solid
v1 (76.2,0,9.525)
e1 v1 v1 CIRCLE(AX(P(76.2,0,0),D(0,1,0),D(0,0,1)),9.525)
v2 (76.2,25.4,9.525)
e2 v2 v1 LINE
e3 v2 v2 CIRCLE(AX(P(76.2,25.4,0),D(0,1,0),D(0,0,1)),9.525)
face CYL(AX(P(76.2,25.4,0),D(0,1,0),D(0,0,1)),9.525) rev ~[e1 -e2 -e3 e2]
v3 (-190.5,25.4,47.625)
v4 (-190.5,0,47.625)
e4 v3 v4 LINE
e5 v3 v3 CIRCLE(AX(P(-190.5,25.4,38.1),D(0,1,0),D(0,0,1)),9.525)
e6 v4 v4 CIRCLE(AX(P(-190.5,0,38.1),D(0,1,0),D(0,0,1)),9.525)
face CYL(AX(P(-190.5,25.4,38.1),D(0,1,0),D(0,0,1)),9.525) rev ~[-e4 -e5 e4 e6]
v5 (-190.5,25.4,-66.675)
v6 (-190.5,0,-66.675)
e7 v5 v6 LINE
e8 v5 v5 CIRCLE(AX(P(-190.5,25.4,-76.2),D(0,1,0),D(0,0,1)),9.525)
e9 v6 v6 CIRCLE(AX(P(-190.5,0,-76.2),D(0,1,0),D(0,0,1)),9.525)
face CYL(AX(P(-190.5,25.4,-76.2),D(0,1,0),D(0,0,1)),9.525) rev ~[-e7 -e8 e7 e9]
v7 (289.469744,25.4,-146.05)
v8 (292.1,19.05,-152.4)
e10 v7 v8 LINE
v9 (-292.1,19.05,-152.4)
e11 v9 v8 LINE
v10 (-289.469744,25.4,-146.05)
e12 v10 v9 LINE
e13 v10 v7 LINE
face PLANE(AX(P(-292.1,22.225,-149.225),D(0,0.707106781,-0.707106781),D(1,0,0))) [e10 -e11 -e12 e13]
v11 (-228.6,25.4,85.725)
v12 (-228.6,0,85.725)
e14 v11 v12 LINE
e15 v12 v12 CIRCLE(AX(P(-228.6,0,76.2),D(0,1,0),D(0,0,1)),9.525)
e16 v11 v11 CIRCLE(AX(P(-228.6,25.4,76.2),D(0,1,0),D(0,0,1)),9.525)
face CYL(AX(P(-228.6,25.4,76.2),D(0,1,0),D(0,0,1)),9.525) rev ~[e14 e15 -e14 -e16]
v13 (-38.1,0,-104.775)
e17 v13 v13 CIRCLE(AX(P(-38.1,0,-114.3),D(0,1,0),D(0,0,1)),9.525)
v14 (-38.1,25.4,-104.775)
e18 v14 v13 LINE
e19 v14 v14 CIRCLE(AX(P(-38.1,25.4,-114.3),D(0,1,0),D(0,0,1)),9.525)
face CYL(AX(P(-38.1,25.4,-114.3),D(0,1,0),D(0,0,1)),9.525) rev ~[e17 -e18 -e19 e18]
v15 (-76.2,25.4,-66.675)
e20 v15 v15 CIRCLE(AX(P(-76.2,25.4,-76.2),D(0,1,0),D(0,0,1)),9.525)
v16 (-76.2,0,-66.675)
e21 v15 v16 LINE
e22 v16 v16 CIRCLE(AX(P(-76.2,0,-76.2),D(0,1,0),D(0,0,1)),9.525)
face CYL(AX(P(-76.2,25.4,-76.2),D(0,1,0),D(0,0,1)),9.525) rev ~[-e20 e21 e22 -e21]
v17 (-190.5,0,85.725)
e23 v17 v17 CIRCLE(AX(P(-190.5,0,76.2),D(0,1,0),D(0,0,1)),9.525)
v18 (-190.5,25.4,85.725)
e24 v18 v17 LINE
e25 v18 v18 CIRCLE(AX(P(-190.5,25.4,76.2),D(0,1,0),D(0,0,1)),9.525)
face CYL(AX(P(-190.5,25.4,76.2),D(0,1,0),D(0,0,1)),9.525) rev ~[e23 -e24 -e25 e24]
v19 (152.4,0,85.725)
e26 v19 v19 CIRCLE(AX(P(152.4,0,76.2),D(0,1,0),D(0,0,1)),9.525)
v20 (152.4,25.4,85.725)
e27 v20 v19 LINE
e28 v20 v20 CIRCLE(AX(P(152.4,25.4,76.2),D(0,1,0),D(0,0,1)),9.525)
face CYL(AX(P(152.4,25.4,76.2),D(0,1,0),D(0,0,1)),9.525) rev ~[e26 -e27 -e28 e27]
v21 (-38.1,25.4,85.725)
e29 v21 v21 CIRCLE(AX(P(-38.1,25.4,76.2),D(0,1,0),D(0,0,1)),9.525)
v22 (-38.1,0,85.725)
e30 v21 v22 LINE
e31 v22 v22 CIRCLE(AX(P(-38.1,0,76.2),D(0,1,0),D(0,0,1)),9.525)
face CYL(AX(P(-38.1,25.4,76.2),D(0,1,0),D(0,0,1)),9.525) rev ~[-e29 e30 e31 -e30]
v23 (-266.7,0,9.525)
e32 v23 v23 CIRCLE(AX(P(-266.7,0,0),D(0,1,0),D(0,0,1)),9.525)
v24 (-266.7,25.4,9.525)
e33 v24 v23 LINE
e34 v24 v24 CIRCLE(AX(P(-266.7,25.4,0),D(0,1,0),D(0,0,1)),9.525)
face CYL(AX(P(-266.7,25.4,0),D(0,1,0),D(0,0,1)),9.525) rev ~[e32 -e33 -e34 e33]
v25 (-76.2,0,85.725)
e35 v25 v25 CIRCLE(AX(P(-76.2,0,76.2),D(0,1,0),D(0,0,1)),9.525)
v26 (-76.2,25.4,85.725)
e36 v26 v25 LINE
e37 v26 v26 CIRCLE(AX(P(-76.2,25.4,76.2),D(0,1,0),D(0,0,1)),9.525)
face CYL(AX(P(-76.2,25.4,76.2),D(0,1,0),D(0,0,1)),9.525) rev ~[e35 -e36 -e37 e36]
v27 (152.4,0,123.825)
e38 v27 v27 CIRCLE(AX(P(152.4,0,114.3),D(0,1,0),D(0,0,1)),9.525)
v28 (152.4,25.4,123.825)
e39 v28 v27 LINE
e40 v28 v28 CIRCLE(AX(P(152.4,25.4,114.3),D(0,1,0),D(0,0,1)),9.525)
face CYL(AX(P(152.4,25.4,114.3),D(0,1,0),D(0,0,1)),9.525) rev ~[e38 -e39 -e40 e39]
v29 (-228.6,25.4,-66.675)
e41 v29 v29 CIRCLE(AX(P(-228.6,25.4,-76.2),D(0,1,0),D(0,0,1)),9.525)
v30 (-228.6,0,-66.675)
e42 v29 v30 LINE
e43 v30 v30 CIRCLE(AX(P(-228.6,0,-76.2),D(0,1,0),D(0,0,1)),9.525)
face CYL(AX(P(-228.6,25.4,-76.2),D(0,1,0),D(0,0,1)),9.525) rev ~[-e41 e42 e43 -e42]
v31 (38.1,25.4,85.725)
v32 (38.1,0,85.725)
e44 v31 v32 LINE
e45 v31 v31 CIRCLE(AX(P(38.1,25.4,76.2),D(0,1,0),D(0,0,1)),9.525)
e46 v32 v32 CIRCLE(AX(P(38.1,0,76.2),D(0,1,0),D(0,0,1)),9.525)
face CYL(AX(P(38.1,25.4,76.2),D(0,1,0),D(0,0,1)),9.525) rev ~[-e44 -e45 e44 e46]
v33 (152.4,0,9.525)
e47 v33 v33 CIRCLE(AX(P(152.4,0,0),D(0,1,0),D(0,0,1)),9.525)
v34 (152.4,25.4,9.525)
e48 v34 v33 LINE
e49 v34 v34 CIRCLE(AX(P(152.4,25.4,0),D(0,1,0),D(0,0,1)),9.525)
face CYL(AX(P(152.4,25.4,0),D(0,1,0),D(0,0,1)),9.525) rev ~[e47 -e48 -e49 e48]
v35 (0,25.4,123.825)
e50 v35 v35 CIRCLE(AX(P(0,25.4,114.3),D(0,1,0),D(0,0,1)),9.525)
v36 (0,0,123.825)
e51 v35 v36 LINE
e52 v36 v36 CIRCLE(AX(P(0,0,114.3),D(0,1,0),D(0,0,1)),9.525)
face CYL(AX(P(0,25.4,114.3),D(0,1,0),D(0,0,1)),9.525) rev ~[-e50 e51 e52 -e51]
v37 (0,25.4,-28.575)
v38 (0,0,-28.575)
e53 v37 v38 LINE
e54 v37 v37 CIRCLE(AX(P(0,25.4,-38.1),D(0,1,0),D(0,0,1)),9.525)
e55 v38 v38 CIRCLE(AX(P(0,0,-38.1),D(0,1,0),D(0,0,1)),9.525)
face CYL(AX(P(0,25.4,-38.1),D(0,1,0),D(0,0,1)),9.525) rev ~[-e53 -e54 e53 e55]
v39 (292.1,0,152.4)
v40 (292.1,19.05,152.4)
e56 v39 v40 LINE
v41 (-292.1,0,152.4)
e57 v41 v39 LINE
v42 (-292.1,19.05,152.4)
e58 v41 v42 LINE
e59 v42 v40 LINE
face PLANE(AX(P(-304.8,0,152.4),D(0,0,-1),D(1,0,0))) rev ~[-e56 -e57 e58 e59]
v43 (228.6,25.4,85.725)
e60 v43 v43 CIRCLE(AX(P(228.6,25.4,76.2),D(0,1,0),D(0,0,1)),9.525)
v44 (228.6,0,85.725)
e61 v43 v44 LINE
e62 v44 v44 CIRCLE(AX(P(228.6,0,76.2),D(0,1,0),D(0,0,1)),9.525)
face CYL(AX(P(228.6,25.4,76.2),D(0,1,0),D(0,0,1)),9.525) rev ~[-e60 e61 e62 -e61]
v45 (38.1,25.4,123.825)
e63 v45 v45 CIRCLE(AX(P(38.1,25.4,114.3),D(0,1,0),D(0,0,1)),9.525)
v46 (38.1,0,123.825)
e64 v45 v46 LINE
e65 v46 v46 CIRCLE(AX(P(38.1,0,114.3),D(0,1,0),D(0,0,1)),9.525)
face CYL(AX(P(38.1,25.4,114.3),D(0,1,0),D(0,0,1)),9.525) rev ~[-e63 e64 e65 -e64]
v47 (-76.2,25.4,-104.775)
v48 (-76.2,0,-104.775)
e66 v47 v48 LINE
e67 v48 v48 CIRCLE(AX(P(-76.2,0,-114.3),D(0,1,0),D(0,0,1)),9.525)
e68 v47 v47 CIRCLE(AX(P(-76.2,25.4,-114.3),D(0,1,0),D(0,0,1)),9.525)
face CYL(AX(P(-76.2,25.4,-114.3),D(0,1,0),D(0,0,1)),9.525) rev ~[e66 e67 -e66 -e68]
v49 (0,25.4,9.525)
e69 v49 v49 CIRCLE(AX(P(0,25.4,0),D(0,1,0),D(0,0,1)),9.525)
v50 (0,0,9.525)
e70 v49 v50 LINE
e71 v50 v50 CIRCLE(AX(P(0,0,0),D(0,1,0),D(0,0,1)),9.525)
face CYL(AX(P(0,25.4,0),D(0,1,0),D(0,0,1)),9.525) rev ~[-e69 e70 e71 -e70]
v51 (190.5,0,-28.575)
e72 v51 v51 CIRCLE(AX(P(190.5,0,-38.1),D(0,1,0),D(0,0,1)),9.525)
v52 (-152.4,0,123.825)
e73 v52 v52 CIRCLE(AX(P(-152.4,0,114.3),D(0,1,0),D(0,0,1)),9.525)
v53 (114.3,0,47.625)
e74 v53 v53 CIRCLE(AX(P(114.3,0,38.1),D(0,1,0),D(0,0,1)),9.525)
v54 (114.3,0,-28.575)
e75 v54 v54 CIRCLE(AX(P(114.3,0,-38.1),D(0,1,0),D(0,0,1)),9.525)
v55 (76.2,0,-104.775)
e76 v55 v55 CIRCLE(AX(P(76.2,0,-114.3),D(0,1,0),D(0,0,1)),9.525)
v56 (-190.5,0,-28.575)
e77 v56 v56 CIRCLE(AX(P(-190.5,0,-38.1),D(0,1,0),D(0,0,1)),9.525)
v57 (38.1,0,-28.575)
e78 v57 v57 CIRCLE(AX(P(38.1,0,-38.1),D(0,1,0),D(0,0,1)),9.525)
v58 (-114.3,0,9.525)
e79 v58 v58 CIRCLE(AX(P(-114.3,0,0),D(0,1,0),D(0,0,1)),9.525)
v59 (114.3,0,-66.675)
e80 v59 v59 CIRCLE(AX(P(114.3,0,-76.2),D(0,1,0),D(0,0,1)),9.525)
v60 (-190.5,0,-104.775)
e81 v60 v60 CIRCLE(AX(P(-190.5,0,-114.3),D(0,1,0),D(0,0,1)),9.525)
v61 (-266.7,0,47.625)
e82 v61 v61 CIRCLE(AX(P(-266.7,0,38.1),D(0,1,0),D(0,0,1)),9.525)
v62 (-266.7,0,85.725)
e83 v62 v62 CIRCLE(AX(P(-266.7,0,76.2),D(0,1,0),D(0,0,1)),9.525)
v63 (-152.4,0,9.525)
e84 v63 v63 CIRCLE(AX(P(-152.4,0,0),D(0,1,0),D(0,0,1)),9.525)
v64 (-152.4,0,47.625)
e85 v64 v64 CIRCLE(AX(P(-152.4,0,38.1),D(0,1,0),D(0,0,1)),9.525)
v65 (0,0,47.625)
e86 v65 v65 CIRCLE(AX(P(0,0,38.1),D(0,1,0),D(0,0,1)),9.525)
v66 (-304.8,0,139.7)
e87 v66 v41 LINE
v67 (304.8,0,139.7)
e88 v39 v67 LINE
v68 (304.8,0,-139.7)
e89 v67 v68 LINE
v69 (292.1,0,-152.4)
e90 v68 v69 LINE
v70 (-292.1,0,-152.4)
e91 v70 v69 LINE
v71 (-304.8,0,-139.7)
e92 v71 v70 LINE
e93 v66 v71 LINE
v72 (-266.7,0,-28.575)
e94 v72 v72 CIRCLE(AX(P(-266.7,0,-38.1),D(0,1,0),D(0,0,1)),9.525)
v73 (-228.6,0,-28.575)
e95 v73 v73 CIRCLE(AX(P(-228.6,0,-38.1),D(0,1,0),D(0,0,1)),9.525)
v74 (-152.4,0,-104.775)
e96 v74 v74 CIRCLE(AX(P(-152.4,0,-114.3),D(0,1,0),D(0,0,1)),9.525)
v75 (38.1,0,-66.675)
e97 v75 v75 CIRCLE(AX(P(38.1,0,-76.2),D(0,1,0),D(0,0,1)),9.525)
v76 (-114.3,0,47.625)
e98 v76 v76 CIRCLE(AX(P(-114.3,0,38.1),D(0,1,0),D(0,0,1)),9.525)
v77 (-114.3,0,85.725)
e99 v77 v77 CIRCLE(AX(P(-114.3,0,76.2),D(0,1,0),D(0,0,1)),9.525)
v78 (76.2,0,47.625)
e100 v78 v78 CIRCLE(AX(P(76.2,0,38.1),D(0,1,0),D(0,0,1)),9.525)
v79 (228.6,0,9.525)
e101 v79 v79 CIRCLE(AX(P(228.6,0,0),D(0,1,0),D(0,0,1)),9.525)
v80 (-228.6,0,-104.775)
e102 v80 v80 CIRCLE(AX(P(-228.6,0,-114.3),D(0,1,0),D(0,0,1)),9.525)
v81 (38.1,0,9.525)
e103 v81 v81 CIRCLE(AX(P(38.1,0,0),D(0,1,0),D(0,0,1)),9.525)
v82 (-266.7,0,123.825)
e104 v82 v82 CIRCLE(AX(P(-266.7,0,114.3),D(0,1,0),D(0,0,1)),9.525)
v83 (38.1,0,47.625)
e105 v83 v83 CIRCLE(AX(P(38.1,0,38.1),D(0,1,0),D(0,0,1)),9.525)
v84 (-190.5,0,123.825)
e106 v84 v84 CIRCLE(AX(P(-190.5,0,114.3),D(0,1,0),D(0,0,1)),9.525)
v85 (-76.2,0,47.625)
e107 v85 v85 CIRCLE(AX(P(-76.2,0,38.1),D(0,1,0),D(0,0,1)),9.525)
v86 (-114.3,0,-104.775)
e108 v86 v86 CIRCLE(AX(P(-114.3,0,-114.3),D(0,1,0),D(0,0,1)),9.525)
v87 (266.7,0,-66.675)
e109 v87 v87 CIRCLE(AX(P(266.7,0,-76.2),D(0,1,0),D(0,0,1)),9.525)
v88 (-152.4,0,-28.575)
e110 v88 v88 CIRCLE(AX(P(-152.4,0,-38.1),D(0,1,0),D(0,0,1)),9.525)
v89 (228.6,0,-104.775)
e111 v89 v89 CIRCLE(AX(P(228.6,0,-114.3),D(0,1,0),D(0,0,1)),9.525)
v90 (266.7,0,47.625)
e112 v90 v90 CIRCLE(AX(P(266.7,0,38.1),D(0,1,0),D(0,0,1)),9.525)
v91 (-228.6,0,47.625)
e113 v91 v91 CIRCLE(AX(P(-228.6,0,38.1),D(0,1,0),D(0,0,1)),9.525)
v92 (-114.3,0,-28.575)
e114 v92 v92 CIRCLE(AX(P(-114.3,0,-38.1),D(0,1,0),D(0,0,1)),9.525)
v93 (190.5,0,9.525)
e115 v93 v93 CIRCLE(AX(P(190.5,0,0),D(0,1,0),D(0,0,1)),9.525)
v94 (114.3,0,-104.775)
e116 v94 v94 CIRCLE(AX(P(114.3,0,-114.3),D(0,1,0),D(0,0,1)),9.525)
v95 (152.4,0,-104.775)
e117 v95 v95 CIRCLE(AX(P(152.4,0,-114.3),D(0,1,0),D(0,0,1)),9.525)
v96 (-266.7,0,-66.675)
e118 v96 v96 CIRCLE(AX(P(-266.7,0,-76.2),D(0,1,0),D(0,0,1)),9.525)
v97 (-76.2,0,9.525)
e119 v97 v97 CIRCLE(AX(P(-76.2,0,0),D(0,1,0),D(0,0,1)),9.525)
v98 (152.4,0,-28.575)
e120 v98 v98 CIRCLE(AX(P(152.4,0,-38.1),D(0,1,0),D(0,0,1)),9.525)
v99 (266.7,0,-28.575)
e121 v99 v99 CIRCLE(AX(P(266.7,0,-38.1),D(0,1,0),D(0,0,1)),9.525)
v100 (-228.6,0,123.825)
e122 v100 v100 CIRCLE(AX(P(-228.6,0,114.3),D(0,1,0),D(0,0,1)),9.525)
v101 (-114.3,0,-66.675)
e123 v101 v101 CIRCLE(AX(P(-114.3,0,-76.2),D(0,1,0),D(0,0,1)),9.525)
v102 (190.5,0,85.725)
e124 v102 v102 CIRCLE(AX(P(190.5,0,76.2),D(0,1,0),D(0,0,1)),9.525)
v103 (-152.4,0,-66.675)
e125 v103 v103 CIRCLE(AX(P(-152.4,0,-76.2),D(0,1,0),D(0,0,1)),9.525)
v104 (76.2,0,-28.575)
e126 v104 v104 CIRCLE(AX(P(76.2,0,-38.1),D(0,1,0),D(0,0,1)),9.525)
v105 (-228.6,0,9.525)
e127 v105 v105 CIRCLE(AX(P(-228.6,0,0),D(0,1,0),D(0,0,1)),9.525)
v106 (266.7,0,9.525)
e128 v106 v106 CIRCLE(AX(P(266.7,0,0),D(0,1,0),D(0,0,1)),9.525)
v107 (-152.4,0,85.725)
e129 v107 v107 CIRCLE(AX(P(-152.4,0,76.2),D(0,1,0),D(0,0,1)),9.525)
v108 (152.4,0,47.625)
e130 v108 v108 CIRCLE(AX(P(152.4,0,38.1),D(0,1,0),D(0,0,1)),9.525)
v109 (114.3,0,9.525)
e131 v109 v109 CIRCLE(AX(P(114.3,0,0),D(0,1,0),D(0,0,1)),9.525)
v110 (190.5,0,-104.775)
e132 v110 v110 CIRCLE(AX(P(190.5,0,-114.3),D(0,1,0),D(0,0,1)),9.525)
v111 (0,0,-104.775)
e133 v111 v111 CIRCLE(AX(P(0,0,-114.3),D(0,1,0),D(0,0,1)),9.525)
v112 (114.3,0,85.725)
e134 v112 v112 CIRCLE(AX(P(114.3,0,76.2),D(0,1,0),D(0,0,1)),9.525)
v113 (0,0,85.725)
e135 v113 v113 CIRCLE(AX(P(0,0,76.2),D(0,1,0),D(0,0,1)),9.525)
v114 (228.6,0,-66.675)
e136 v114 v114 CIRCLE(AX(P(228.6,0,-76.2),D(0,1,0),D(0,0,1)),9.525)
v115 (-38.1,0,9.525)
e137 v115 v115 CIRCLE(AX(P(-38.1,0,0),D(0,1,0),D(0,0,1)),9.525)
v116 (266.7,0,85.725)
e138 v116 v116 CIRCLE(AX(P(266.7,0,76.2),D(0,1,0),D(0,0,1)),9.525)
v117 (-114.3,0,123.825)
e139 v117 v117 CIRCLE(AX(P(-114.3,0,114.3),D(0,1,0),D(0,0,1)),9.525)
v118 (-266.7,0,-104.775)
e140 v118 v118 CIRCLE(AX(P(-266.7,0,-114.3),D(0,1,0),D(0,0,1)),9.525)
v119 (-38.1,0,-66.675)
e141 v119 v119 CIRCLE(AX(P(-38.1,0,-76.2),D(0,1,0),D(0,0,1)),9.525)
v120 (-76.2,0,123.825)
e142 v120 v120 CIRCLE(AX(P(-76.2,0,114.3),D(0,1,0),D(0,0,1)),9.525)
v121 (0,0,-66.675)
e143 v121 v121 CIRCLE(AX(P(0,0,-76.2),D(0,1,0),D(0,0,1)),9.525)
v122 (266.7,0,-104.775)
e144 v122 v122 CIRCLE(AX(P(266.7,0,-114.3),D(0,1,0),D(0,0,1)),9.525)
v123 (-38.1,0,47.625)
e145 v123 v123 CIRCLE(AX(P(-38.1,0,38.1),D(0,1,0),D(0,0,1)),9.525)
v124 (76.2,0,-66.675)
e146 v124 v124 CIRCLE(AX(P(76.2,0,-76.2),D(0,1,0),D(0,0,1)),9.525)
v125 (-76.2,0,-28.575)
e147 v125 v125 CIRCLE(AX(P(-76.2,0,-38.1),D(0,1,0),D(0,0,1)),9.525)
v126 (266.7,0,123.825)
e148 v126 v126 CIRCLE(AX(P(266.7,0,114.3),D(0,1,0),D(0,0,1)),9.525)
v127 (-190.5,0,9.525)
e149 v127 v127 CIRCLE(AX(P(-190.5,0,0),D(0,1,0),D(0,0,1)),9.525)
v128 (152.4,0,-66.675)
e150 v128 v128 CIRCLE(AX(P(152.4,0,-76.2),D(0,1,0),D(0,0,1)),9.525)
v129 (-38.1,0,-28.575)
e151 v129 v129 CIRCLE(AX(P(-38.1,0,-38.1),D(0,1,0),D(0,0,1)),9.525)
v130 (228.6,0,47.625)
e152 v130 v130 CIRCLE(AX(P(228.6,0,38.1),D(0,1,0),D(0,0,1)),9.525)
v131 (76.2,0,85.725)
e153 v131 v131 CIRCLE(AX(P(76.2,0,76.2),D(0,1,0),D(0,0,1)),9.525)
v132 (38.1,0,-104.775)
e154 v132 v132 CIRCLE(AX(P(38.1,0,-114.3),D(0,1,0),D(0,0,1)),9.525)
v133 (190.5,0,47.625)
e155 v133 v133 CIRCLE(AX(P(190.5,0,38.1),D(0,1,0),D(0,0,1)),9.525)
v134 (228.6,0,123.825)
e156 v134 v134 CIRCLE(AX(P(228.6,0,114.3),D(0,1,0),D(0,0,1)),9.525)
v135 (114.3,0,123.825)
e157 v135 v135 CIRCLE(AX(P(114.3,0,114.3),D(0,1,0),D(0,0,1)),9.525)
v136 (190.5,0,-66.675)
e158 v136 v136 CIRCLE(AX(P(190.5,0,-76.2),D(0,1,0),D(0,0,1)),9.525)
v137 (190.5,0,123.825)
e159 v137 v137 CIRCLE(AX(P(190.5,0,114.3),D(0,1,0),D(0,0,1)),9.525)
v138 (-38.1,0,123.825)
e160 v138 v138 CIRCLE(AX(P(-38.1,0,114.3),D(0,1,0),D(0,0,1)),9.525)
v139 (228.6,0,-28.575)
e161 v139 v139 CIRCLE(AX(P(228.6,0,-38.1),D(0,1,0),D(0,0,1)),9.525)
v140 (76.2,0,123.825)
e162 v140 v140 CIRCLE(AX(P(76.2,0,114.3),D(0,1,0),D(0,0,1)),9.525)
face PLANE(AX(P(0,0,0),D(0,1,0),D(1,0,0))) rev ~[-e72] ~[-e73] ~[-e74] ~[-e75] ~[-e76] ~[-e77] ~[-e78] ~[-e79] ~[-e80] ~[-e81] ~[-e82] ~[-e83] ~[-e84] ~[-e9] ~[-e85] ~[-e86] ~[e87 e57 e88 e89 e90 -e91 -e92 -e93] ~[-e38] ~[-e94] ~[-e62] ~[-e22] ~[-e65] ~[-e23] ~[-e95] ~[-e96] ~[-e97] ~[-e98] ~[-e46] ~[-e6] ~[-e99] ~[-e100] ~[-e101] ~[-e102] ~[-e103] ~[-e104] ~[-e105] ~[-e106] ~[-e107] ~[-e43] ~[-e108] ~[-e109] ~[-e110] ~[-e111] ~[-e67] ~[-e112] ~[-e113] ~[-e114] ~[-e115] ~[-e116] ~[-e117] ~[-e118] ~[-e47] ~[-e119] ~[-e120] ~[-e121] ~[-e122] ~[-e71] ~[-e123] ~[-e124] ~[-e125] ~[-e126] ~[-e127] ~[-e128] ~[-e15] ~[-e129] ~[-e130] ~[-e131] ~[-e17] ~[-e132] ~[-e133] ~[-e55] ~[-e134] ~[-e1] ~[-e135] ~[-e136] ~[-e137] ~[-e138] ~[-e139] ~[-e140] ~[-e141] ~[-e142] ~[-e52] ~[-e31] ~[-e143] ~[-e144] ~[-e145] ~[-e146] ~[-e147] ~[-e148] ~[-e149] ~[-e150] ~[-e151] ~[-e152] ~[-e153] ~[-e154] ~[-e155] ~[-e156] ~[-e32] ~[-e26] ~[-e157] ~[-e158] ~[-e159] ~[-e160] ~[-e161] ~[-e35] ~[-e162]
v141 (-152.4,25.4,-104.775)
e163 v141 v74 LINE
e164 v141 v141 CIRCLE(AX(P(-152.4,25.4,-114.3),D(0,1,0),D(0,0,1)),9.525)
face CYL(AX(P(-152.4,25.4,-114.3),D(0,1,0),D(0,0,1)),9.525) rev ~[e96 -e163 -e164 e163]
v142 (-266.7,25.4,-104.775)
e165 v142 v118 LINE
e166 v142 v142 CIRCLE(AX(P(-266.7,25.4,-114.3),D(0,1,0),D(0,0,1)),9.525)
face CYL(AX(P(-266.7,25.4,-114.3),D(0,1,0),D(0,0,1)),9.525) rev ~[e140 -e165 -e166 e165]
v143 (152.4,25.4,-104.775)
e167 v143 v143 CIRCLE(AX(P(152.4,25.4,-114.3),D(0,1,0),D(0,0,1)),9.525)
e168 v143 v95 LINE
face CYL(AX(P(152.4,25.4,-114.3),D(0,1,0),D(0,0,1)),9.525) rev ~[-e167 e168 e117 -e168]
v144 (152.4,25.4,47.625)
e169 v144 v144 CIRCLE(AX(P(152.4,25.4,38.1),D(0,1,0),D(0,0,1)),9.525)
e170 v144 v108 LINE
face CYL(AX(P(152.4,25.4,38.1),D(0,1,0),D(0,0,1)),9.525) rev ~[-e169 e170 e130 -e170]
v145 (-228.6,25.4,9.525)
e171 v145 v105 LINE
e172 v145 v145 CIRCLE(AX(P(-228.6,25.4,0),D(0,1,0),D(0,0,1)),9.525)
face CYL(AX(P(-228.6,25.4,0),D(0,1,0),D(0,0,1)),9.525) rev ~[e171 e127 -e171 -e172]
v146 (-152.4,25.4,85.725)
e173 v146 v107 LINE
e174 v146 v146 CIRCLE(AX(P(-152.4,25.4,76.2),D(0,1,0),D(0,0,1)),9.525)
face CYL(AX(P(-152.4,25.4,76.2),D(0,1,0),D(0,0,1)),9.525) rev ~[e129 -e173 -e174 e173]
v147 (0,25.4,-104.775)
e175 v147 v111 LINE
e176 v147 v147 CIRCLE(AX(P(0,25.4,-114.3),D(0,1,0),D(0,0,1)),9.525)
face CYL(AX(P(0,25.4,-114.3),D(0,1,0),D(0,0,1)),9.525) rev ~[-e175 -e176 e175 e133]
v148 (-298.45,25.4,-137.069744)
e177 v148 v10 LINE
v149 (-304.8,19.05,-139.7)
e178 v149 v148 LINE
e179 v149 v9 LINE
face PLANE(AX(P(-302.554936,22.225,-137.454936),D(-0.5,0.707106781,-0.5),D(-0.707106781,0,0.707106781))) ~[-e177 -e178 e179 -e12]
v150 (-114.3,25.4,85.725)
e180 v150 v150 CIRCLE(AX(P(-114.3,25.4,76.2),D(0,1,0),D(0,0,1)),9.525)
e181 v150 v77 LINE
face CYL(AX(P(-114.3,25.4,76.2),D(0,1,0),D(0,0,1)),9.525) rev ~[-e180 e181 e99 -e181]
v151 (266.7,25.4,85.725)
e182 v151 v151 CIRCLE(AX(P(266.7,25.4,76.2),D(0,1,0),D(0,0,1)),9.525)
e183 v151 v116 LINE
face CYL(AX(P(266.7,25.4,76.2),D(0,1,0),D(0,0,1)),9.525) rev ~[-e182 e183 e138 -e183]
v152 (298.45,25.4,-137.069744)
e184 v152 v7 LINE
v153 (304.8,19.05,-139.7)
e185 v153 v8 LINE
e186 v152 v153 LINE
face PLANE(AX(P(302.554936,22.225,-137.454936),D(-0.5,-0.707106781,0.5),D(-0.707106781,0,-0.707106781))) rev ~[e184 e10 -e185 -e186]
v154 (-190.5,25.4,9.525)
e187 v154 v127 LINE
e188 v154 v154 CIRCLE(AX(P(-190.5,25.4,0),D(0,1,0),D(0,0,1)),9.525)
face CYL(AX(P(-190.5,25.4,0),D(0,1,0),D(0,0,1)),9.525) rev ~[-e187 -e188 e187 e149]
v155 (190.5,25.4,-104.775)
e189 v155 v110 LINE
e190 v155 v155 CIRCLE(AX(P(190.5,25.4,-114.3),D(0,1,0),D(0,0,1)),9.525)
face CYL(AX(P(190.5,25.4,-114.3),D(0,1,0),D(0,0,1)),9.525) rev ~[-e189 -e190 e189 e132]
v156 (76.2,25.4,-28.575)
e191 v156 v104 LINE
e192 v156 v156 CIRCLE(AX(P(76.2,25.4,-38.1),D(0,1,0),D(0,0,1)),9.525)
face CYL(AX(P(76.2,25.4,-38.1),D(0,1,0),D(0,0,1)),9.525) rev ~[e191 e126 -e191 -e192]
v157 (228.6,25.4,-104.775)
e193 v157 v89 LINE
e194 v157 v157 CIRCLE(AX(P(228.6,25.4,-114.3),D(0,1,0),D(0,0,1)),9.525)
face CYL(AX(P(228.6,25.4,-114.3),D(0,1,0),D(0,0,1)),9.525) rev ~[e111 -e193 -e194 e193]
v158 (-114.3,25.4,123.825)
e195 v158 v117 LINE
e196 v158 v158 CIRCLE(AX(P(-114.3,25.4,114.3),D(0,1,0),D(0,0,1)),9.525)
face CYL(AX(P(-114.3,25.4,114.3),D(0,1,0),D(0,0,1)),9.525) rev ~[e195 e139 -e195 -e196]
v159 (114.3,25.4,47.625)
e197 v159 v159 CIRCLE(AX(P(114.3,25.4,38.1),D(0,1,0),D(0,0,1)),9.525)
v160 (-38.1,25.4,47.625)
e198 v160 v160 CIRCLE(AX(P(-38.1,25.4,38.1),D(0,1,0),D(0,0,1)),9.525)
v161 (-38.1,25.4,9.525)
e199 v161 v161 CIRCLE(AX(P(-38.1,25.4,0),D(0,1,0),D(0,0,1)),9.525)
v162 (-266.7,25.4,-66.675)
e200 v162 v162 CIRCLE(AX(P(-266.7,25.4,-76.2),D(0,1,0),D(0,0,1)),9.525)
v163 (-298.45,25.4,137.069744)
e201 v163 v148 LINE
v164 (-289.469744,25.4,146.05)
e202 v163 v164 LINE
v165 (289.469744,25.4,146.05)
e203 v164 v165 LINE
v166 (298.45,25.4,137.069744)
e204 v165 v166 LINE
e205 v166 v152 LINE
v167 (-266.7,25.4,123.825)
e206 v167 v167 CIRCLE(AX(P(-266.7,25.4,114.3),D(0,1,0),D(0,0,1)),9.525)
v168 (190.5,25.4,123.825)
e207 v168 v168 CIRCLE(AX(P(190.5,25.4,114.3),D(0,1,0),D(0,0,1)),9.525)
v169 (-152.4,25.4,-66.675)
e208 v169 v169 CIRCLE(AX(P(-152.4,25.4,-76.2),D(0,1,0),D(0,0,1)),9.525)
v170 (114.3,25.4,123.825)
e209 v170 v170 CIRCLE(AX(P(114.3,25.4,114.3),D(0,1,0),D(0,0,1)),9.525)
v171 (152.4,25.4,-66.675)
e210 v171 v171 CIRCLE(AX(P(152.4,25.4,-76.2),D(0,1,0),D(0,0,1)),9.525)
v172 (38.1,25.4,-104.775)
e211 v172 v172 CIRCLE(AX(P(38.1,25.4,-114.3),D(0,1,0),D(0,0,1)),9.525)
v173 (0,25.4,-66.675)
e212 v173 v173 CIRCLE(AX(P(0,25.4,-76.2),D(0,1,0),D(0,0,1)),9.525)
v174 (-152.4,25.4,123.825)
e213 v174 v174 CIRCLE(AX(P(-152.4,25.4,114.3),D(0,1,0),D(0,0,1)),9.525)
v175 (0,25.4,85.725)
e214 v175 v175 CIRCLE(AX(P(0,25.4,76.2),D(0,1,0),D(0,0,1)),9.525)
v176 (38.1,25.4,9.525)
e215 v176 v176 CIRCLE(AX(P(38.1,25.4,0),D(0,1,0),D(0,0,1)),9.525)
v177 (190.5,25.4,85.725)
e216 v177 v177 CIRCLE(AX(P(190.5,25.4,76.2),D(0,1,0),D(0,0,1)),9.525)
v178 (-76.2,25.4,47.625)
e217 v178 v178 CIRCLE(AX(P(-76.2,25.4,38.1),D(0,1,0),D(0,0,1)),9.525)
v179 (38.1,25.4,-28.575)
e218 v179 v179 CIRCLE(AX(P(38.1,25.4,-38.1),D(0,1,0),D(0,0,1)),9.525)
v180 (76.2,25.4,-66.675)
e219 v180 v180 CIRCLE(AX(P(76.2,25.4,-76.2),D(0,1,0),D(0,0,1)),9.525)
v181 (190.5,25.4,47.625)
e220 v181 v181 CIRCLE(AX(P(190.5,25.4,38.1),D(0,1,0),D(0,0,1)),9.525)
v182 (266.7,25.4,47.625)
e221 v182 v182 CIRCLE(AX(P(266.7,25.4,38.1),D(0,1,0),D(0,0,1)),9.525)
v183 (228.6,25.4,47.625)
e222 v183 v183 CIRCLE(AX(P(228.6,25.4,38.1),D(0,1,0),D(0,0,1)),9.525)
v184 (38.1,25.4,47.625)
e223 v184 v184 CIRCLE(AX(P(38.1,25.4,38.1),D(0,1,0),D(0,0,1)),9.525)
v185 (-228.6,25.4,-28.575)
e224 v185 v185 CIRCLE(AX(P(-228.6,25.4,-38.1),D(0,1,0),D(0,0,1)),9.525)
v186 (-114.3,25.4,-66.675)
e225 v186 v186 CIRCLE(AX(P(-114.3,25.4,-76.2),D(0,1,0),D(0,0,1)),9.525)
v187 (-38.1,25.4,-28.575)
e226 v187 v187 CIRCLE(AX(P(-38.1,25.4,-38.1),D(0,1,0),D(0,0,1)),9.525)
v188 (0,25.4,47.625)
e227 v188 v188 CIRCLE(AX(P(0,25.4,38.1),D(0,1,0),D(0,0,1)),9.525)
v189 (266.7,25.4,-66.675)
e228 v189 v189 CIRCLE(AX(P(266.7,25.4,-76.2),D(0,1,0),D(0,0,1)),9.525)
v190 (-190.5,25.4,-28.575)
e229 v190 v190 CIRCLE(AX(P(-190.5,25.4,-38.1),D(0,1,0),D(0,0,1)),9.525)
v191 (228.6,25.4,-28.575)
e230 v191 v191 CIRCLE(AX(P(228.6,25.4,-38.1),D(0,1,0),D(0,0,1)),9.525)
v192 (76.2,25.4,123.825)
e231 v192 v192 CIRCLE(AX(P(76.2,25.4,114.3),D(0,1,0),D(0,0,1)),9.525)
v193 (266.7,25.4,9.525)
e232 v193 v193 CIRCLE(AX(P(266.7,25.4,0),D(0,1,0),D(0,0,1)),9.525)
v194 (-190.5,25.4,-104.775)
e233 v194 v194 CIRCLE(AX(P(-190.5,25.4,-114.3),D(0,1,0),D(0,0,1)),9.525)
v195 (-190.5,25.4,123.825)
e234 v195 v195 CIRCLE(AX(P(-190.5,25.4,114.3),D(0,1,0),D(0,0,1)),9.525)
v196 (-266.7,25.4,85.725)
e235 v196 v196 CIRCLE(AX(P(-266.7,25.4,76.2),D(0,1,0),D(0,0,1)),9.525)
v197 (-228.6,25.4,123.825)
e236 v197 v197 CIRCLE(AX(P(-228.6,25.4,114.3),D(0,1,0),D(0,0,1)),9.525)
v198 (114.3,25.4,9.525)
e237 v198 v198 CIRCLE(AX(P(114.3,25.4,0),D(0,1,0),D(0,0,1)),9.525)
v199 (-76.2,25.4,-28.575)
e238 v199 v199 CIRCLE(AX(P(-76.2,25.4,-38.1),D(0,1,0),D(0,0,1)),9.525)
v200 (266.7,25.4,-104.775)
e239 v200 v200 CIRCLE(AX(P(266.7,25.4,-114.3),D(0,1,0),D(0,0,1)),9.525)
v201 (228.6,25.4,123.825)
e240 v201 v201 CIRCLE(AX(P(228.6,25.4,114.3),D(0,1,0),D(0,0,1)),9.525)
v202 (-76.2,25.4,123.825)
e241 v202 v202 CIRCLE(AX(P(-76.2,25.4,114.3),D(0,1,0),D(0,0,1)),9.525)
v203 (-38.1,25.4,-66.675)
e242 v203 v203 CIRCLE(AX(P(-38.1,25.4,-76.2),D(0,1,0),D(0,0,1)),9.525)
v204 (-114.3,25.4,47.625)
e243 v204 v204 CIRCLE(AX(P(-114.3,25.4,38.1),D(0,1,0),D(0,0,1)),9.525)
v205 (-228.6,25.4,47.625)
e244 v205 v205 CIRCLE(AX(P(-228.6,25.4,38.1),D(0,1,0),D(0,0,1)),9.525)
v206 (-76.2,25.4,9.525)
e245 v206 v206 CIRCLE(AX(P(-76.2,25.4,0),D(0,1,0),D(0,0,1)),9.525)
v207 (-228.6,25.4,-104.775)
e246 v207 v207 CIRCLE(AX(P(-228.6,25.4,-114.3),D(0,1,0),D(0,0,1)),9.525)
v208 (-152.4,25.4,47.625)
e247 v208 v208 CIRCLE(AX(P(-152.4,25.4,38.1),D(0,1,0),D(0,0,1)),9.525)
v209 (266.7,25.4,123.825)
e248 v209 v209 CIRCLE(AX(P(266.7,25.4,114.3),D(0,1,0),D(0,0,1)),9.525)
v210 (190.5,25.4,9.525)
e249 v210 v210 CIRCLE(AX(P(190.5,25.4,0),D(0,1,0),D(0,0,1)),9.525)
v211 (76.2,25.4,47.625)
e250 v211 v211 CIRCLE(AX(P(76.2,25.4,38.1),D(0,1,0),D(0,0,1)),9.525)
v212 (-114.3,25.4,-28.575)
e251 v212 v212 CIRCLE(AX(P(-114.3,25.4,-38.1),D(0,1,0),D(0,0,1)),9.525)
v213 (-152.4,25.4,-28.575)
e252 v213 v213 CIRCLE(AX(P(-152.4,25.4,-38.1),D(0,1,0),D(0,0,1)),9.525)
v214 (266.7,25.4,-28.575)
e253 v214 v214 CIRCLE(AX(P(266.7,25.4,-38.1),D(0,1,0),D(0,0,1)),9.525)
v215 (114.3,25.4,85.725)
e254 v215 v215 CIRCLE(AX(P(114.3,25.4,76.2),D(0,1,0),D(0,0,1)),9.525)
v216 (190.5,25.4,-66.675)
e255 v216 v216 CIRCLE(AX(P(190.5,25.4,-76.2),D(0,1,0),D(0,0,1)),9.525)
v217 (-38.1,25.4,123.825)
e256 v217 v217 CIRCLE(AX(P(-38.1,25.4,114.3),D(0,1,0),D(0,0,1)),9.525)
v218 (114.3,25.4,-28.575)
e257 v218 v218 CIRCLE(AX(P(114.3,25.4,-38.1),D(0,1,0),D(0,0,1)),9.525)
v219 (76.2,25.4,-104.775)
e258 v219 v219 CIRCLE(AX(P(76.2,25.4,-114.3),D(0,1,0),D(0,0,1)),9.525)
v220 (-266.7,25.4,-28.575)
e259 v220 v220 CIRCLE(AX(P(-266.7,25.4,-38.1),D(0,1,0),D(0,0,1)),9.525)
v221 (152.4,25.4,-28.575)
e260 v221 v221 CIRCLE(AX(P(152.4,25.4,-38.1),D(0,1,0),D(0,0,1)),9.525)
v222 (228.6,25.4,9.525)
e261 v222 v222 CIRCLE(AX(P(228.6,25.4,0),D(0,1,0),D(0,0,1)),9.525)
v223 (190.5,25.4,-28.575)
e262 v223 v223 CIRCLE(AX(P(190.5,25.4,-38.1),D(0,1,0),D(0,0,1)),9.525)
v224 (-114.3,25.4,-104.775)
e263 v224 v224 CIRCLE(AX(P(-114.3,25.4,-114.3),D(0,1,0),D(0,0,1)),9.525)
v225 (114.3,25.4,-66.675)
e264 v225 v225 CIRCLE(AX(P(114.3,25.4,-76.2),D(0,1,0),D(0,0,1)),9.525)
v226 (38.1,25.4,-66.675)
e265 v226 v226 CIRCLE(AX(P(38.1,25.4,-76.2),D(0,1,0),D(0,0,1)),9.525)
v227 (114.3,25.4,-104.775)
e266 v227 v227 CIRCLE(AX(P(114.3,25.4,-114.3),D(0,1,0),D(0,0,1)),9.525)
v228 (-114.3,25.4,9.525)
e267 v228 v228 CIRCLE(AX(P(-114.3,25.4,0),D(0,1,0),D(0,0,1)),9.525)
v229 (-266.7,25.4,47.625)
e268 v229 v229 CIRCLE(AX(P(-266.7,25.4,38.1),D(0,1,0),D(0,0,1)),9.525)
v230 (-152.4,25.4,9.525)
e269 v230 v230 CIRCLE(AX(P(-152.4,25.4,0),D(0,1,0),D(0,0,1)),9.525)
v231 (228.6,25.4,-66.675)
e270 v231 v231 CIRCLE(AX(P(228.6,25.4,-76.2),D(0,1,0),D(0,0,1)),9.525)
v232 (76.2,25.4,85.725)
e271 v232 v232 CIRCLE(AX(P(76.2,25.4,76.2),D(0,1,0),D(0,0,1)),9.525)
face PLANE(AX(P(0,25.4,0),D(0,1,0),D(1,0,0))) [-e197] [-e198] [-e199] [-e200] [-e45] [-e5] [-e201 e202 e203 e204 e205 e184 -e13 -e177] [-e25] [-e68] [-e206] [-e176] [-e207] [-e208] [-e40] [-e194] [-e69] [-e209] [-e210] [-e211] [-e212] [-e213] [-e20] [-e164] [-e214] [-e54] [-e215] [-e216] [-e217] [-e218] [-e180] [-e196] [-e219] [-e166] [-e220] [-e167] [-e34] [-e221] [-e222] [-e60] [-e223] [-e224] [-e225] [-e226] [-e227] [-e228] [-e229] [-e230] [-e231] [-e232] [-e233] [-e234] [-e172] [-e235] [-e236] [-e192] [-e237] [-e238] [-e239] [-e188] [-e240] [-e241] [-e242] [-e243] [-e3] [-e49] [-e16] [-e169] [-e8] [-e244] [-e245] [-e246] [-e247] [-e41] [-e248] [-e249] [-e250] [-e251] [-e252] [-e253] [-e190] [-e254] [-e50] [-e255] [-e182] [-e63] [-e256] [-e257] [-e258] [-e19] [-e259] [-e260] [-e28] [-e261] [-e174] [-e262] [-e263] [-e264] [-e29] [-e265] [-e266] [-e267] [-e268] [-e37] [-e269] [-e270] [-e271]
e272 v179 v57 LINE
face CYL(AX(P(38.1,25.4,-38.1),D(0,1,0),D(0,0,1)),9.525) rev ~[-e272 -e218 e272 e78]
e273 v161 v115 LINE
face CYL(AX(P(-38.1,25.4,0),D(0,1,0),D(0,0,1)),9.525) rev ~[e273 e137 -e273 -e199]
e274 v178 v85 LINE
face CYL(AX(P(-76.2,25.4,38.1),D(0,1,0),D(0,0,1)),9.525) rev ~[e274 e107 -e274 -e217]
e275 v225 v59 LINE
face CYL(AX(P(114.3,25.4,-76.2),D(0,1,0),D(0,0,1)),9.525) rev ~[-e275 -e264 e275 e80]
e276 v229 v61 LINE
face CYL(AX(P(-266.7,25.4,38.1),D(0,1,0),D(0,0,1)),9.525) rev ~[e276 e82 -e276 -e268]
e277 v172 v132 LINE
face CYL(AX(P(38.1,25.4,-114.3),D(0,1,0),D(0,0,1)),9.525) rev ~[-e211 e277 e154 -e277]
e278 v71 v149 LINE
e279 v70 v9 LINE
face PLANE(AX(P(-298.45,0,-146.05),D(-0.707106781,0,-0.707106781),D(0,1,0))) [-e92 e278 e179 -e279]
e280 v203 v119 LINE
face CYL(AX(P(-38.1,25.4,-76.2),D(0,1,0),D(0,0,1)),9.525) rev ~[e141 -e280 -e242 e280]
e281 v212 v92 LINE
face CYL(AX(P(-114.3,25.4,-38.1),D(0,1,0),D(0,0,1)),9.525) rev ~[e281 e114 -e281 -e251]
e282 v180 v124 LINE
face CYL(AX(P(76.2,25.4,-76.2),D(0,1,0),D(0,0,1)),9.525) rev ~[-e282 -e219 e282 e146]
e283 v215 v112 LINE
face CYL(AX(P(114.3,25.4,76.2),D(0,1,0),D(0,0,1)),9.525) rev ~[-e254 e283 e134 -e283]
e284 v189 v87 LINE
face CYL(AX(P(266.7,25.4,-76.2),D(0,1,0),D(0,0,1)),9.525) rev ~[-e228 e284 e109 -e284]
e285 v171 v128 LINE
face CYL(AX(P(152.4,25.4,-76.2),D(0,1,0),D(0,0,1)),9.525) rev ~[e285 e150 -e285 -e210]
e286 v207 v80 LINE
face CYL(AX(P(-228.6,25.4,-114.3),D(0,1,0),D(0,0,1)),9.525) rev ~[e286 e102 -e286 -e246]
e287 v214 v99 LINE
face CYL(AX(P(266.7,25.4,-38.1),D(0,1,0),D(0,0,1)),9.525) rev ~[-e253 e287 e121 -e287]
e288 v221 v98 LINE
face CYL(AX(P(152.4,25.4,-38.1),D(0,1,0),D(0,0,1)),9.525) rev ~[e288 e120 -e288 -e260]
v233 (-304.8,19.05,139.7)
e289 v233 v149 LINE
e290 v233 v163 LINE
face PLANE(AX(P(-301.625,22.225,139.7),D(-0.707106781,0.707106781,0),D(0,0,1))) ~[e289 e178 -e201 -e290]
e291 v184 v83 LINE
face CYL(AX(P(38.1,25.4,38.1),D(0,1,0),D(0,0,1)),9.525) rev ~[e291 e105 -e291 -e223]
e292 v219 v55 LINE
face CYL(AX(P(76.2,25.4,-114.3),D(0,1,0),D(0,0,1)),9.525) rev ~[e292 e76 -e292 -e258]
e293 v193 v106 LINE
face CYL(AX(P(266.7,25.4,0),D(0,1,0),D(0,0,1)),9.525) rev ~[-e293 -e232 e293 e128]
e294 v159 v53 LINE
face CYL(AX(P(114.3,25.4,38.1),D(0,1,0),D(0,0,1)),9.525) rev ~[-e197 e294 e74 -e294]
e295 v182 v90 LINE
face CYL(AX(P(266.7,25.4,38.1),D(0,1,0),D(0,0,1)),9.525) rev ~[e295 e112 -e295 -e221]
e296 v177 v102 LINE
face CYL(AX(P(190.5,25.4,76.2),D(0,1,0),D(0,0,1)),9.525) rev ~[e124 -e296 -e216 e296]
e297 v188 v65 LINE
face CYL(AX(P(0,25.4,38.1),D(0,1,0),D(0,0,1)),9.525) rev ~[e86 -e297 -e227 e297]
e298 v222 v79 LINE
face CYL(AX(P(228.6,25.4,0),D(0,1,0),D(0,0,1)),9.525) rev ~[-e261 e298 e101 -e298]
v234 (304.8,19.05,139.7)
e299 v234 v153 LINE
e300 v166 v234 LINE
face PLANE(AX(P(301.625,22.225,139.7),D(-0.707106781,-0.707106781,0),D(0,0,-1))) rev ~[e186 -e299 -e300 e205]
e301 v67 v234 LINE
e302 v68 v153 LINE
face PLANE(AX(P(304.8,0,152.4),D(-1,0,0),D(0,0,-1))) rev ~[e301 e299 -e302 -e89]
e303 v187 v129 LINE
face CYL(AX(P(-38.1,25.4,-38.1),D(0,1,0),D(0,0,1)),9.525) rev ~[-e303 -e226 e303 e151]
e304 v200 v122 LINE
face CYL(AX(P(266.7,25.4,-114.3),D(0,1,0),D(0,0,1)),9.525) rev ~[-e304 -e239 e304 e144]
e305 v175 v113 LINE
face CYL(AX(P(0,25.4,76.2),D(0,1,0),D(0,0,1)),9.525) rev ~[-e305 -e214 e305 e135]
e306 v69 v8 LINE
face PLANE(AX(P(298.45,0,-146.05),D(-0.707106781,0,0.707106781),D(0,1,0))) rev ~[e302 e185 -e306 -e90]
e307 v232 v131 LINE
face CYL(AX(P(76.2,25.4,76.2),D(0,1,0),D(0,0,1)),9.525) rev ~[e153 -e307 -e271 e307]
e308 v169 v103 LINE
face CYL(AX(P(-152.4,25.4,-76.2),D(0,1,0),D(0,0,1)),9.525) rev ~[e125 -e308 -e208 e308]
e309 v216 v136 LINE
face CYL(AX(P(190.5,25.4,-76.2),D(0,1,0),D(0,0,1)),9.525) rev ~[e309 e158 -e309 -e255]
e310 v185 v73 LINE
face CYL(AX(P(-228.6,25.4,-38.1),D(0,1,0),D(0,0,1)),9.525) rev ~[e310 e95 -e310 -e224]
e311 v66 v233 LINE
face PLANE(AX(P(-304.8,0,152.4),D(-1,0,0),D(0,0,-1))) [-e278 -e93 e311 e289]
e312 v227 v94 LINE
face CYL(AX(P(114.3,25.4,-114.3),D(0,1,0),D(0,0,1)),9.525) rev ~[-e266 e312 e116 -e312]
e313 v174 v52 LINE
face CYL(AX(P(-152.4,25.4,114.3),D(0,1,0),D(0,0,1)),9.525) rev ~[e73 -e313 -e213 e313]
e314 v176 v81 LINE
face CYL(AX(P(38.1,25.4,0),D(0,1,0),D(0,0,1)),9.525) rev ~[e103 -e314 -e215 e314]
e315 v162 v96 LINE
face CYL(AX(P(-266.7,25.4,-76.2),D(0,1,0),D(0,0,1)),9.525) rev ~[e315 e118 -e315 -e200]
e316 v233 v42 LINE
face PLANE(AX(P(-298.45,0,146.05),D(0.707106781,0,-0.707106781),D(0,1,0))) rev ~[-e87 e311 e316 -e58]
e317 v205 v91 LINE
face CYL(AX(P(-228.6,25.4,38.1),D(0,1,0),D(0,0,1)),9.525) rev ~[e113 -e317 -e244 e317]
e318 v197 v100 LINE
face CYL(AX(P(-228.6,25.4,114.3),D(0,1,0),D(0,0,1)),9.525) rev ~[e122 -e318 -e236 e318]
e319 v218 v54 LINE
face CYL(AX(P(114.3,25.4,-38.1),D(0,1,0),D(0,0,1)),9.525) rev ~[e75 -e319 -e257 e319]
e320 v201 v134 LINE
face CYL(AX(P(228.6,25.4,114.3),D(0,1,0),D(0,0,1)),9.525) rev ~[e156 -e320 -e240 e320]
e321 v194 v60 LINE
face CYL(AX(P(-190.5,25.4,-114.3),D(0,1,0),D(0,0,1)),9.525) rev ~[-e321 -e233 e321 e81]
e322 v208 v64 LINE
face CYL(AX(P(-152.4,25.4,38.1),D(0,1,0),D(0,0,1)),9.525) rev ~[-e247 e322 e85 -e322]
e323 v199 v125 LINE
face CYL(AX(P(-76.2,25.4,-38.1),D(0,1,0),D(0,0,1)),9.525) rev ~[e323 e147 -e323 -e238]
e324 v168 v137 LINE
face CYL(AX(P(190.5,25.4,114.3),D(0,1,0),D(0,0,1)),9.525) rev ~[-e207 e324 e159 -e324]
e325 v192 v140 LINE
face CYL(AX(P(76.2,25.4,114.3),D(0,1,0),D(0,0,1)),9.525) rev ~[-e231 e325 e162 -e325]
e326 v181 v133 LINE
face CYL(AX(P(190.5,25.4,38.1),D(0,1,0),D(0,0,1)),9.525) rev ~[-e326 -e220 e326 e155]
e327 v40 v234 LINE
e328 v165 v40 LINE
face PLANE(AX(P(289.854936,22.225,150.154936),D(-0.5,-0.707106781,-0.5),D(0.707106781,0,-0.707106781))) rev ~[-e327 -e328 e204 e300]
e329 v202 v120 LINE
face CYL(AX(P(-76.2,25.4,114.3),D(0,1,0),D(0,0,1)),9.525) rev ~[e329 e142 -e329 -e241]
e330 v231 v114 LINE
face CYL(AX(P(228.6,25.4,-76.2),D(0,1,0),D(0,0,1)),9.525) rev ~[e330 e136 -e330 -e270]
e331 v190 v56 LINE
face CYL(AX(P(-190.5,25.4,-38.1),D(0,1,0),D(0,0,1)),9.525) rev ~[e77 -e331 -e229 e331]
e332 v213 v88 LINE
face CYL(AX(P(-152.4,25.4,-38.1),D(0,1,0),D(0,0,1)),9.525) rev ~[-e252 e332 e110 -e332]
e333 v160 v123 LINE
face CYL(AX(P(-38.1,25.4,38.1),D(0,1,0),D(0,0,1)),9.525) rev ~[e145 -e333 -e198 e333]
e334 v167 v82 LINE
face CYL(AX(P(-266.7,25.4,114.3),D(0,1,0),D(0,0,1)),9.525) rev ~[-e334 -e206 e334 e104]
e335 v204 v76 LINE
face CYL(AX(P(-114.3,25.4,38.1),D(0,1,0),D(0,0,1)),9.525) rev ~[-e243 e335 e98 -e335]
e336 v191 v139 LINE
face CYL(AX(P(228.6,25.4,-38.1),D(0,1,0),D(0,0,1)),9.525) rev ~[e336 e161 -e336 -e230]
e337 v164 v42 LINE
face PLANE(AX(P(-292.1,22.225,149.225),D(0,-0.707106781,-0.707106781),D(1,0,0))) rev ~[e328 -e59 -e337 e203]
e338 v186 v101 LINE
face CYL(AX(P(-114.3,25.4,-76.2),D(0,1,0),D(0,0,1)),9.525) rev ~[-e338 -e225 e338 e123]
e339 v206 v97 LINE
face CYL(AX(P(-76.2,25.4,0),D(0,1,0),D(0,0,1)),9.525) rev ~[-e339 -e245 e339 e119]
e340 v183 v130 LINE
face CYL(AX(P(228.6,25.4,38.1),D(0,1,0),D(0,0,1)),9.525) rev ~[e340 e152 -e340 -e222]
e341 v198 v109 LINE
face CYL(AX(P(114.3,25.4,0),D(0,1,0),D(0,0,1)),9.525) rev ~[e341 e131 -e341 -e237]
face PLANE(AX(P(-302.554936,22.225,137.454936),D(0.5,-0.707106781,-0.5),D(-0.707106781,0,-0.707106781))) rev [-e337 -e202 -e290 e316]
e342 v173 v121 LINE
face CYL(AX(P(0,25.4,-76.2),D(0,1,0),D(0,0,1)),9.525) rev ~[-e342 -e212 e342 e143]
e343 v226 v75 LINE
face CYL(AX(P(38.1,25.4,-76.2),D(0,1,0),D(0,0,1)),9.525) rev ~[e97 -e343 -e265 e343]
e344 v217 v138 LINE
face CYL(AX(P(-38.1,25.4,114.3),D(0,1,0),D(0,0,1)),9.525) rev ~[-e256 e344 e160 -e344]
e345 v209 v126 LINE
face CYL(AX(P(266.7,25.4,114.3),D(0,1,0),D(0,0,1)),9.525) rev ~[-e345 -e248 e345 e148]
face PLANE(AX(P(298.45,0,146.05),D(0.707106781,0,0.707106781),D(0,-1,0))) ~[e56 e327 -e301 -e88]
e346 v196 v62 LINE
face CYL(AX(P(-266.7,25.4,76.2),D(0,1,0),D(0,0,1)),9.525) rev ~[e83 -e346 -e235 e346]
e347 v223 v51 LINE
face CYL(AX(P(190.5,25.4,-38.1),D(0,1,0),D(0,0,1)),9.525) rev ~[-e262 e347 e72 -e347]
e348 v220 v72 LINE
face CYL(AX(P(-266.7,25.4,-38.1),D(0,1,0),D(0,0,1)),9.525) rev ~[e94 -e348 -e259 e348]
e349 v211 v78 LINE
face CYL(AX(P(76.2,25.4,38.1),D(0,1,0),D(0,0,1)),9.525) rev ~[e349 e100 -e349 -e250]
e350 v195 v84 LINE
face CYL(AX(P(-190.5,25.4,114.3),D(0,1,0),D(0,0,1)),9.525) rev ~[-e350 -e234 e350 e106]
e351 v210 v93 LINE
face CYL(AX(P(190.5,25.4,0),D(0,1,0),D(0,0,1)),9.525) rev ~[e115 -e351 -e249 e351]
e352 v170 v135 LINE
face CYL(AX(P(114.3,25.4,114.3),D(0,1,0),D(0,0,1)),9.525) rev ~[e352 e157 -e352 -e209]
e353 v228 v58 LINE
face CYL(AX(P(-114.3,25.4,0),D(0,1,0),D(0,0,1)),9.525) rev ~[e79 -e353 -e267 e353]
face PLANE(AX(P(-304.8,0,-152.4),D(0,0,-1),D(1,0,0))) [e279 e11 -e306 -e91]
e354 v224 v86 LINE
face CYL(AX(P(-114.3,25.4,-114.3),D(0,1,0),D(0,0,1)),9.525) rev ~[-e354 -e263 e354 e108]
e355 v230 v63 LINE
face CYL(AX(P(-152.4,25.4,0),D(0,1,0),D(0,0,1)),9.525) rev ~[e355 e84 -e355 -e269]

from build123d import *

# Parameters (mm, degrees)
SKETCH1_W            = 609.6
SKETCH1_H            = 304.8
BOSS_EXTRUDE1_DEPTH  = 25.4
CHAMFER1_SIZE        = 12.7
CHAMFER2_SIZE        = 6.35
SKETCH2_R            = 9.525
CUT_EXTRUDE1_DEPTH   = 342.722050796
LPATTERN1_COUNT      = 15
LPATTERN1_PITCH      = 38.1
LPATTERN1_COUNT_DIR2 = 7
LPATTERN1_PITCH_DIR2 = 38.1


with BuildPart() as part:
    # Sketch1 → Boss-Extrude1 (new body)
    with BuildSketch(Plane(origin=(0, 0, 0), x_dir=(1, 0, 0), z_dir=(0, 1, 0))):
        Rectangle(SKETCH1_W, SKETCH1_H)
    extrude(amount=BOSS_EXTRUDE1_DEPTH)

    # Chamfer1
    chamfer1_edges = [part.edges().sort_by_distance(p)[0] for p in [
        (-304.8, 12.7, -152.4),
        (304.8, 12.7, -152.4),
        (304.8, 12.7, 152.4),
        (-304.8, 12.7, 152.4),
    ]]
    chamfer(chamfer1_edges, length=CHAMFER1_SIZE)

    # Chamfer2
    chamfer2_edges = [part.edges().sort_by_distance(p)[0] for p in [
        (304.8, 25.4, 0),
        (0, 25.4, 152.4),
        (-304.8, 25.4, 0),
        (0, 25.4, -152.4),
        (-298.45, 25.4, -146.05),
        (-298.45, 25.4, 146.05),
        (298.45, 25.4, -146.05),
        (298.45, 25.4, 146.05),
    ]]
    chamfer(chamfer2_edges, length=CHAMFER2_SIZE)

    # Sketch2 → Cut-Extrude1 (cut, through all)
    with BuildSketch(Plane(origin=(0, 25.4, 0), x_dir=(1, 0, 0), z_dir=(0, 1, 0))):
        with Locations(Location((-266.7, 114.3, 0), (0, 0, 270))):
            Circle(SKETCH2_R)
    cut_extrude1 = extrude(amount=-CUT_EXTRUDE1_DEPTH, mode=Mode.SUBTRACT)

    # LPattern1: Cut-Extrude1 15 × 7
    with Locations(*[(i * LPATTERN1_PITCH, 0, j * LPATTERN1_PITCH_DIR2) for i in range(LPATTERN1_COUNT) for j in range(LPATTERN1_COUNT_DIR2) if (i, j) != (0, 0)]):
        add(cut_extrude1, mode=Mode.SUBTRACT)


solid = part.part
